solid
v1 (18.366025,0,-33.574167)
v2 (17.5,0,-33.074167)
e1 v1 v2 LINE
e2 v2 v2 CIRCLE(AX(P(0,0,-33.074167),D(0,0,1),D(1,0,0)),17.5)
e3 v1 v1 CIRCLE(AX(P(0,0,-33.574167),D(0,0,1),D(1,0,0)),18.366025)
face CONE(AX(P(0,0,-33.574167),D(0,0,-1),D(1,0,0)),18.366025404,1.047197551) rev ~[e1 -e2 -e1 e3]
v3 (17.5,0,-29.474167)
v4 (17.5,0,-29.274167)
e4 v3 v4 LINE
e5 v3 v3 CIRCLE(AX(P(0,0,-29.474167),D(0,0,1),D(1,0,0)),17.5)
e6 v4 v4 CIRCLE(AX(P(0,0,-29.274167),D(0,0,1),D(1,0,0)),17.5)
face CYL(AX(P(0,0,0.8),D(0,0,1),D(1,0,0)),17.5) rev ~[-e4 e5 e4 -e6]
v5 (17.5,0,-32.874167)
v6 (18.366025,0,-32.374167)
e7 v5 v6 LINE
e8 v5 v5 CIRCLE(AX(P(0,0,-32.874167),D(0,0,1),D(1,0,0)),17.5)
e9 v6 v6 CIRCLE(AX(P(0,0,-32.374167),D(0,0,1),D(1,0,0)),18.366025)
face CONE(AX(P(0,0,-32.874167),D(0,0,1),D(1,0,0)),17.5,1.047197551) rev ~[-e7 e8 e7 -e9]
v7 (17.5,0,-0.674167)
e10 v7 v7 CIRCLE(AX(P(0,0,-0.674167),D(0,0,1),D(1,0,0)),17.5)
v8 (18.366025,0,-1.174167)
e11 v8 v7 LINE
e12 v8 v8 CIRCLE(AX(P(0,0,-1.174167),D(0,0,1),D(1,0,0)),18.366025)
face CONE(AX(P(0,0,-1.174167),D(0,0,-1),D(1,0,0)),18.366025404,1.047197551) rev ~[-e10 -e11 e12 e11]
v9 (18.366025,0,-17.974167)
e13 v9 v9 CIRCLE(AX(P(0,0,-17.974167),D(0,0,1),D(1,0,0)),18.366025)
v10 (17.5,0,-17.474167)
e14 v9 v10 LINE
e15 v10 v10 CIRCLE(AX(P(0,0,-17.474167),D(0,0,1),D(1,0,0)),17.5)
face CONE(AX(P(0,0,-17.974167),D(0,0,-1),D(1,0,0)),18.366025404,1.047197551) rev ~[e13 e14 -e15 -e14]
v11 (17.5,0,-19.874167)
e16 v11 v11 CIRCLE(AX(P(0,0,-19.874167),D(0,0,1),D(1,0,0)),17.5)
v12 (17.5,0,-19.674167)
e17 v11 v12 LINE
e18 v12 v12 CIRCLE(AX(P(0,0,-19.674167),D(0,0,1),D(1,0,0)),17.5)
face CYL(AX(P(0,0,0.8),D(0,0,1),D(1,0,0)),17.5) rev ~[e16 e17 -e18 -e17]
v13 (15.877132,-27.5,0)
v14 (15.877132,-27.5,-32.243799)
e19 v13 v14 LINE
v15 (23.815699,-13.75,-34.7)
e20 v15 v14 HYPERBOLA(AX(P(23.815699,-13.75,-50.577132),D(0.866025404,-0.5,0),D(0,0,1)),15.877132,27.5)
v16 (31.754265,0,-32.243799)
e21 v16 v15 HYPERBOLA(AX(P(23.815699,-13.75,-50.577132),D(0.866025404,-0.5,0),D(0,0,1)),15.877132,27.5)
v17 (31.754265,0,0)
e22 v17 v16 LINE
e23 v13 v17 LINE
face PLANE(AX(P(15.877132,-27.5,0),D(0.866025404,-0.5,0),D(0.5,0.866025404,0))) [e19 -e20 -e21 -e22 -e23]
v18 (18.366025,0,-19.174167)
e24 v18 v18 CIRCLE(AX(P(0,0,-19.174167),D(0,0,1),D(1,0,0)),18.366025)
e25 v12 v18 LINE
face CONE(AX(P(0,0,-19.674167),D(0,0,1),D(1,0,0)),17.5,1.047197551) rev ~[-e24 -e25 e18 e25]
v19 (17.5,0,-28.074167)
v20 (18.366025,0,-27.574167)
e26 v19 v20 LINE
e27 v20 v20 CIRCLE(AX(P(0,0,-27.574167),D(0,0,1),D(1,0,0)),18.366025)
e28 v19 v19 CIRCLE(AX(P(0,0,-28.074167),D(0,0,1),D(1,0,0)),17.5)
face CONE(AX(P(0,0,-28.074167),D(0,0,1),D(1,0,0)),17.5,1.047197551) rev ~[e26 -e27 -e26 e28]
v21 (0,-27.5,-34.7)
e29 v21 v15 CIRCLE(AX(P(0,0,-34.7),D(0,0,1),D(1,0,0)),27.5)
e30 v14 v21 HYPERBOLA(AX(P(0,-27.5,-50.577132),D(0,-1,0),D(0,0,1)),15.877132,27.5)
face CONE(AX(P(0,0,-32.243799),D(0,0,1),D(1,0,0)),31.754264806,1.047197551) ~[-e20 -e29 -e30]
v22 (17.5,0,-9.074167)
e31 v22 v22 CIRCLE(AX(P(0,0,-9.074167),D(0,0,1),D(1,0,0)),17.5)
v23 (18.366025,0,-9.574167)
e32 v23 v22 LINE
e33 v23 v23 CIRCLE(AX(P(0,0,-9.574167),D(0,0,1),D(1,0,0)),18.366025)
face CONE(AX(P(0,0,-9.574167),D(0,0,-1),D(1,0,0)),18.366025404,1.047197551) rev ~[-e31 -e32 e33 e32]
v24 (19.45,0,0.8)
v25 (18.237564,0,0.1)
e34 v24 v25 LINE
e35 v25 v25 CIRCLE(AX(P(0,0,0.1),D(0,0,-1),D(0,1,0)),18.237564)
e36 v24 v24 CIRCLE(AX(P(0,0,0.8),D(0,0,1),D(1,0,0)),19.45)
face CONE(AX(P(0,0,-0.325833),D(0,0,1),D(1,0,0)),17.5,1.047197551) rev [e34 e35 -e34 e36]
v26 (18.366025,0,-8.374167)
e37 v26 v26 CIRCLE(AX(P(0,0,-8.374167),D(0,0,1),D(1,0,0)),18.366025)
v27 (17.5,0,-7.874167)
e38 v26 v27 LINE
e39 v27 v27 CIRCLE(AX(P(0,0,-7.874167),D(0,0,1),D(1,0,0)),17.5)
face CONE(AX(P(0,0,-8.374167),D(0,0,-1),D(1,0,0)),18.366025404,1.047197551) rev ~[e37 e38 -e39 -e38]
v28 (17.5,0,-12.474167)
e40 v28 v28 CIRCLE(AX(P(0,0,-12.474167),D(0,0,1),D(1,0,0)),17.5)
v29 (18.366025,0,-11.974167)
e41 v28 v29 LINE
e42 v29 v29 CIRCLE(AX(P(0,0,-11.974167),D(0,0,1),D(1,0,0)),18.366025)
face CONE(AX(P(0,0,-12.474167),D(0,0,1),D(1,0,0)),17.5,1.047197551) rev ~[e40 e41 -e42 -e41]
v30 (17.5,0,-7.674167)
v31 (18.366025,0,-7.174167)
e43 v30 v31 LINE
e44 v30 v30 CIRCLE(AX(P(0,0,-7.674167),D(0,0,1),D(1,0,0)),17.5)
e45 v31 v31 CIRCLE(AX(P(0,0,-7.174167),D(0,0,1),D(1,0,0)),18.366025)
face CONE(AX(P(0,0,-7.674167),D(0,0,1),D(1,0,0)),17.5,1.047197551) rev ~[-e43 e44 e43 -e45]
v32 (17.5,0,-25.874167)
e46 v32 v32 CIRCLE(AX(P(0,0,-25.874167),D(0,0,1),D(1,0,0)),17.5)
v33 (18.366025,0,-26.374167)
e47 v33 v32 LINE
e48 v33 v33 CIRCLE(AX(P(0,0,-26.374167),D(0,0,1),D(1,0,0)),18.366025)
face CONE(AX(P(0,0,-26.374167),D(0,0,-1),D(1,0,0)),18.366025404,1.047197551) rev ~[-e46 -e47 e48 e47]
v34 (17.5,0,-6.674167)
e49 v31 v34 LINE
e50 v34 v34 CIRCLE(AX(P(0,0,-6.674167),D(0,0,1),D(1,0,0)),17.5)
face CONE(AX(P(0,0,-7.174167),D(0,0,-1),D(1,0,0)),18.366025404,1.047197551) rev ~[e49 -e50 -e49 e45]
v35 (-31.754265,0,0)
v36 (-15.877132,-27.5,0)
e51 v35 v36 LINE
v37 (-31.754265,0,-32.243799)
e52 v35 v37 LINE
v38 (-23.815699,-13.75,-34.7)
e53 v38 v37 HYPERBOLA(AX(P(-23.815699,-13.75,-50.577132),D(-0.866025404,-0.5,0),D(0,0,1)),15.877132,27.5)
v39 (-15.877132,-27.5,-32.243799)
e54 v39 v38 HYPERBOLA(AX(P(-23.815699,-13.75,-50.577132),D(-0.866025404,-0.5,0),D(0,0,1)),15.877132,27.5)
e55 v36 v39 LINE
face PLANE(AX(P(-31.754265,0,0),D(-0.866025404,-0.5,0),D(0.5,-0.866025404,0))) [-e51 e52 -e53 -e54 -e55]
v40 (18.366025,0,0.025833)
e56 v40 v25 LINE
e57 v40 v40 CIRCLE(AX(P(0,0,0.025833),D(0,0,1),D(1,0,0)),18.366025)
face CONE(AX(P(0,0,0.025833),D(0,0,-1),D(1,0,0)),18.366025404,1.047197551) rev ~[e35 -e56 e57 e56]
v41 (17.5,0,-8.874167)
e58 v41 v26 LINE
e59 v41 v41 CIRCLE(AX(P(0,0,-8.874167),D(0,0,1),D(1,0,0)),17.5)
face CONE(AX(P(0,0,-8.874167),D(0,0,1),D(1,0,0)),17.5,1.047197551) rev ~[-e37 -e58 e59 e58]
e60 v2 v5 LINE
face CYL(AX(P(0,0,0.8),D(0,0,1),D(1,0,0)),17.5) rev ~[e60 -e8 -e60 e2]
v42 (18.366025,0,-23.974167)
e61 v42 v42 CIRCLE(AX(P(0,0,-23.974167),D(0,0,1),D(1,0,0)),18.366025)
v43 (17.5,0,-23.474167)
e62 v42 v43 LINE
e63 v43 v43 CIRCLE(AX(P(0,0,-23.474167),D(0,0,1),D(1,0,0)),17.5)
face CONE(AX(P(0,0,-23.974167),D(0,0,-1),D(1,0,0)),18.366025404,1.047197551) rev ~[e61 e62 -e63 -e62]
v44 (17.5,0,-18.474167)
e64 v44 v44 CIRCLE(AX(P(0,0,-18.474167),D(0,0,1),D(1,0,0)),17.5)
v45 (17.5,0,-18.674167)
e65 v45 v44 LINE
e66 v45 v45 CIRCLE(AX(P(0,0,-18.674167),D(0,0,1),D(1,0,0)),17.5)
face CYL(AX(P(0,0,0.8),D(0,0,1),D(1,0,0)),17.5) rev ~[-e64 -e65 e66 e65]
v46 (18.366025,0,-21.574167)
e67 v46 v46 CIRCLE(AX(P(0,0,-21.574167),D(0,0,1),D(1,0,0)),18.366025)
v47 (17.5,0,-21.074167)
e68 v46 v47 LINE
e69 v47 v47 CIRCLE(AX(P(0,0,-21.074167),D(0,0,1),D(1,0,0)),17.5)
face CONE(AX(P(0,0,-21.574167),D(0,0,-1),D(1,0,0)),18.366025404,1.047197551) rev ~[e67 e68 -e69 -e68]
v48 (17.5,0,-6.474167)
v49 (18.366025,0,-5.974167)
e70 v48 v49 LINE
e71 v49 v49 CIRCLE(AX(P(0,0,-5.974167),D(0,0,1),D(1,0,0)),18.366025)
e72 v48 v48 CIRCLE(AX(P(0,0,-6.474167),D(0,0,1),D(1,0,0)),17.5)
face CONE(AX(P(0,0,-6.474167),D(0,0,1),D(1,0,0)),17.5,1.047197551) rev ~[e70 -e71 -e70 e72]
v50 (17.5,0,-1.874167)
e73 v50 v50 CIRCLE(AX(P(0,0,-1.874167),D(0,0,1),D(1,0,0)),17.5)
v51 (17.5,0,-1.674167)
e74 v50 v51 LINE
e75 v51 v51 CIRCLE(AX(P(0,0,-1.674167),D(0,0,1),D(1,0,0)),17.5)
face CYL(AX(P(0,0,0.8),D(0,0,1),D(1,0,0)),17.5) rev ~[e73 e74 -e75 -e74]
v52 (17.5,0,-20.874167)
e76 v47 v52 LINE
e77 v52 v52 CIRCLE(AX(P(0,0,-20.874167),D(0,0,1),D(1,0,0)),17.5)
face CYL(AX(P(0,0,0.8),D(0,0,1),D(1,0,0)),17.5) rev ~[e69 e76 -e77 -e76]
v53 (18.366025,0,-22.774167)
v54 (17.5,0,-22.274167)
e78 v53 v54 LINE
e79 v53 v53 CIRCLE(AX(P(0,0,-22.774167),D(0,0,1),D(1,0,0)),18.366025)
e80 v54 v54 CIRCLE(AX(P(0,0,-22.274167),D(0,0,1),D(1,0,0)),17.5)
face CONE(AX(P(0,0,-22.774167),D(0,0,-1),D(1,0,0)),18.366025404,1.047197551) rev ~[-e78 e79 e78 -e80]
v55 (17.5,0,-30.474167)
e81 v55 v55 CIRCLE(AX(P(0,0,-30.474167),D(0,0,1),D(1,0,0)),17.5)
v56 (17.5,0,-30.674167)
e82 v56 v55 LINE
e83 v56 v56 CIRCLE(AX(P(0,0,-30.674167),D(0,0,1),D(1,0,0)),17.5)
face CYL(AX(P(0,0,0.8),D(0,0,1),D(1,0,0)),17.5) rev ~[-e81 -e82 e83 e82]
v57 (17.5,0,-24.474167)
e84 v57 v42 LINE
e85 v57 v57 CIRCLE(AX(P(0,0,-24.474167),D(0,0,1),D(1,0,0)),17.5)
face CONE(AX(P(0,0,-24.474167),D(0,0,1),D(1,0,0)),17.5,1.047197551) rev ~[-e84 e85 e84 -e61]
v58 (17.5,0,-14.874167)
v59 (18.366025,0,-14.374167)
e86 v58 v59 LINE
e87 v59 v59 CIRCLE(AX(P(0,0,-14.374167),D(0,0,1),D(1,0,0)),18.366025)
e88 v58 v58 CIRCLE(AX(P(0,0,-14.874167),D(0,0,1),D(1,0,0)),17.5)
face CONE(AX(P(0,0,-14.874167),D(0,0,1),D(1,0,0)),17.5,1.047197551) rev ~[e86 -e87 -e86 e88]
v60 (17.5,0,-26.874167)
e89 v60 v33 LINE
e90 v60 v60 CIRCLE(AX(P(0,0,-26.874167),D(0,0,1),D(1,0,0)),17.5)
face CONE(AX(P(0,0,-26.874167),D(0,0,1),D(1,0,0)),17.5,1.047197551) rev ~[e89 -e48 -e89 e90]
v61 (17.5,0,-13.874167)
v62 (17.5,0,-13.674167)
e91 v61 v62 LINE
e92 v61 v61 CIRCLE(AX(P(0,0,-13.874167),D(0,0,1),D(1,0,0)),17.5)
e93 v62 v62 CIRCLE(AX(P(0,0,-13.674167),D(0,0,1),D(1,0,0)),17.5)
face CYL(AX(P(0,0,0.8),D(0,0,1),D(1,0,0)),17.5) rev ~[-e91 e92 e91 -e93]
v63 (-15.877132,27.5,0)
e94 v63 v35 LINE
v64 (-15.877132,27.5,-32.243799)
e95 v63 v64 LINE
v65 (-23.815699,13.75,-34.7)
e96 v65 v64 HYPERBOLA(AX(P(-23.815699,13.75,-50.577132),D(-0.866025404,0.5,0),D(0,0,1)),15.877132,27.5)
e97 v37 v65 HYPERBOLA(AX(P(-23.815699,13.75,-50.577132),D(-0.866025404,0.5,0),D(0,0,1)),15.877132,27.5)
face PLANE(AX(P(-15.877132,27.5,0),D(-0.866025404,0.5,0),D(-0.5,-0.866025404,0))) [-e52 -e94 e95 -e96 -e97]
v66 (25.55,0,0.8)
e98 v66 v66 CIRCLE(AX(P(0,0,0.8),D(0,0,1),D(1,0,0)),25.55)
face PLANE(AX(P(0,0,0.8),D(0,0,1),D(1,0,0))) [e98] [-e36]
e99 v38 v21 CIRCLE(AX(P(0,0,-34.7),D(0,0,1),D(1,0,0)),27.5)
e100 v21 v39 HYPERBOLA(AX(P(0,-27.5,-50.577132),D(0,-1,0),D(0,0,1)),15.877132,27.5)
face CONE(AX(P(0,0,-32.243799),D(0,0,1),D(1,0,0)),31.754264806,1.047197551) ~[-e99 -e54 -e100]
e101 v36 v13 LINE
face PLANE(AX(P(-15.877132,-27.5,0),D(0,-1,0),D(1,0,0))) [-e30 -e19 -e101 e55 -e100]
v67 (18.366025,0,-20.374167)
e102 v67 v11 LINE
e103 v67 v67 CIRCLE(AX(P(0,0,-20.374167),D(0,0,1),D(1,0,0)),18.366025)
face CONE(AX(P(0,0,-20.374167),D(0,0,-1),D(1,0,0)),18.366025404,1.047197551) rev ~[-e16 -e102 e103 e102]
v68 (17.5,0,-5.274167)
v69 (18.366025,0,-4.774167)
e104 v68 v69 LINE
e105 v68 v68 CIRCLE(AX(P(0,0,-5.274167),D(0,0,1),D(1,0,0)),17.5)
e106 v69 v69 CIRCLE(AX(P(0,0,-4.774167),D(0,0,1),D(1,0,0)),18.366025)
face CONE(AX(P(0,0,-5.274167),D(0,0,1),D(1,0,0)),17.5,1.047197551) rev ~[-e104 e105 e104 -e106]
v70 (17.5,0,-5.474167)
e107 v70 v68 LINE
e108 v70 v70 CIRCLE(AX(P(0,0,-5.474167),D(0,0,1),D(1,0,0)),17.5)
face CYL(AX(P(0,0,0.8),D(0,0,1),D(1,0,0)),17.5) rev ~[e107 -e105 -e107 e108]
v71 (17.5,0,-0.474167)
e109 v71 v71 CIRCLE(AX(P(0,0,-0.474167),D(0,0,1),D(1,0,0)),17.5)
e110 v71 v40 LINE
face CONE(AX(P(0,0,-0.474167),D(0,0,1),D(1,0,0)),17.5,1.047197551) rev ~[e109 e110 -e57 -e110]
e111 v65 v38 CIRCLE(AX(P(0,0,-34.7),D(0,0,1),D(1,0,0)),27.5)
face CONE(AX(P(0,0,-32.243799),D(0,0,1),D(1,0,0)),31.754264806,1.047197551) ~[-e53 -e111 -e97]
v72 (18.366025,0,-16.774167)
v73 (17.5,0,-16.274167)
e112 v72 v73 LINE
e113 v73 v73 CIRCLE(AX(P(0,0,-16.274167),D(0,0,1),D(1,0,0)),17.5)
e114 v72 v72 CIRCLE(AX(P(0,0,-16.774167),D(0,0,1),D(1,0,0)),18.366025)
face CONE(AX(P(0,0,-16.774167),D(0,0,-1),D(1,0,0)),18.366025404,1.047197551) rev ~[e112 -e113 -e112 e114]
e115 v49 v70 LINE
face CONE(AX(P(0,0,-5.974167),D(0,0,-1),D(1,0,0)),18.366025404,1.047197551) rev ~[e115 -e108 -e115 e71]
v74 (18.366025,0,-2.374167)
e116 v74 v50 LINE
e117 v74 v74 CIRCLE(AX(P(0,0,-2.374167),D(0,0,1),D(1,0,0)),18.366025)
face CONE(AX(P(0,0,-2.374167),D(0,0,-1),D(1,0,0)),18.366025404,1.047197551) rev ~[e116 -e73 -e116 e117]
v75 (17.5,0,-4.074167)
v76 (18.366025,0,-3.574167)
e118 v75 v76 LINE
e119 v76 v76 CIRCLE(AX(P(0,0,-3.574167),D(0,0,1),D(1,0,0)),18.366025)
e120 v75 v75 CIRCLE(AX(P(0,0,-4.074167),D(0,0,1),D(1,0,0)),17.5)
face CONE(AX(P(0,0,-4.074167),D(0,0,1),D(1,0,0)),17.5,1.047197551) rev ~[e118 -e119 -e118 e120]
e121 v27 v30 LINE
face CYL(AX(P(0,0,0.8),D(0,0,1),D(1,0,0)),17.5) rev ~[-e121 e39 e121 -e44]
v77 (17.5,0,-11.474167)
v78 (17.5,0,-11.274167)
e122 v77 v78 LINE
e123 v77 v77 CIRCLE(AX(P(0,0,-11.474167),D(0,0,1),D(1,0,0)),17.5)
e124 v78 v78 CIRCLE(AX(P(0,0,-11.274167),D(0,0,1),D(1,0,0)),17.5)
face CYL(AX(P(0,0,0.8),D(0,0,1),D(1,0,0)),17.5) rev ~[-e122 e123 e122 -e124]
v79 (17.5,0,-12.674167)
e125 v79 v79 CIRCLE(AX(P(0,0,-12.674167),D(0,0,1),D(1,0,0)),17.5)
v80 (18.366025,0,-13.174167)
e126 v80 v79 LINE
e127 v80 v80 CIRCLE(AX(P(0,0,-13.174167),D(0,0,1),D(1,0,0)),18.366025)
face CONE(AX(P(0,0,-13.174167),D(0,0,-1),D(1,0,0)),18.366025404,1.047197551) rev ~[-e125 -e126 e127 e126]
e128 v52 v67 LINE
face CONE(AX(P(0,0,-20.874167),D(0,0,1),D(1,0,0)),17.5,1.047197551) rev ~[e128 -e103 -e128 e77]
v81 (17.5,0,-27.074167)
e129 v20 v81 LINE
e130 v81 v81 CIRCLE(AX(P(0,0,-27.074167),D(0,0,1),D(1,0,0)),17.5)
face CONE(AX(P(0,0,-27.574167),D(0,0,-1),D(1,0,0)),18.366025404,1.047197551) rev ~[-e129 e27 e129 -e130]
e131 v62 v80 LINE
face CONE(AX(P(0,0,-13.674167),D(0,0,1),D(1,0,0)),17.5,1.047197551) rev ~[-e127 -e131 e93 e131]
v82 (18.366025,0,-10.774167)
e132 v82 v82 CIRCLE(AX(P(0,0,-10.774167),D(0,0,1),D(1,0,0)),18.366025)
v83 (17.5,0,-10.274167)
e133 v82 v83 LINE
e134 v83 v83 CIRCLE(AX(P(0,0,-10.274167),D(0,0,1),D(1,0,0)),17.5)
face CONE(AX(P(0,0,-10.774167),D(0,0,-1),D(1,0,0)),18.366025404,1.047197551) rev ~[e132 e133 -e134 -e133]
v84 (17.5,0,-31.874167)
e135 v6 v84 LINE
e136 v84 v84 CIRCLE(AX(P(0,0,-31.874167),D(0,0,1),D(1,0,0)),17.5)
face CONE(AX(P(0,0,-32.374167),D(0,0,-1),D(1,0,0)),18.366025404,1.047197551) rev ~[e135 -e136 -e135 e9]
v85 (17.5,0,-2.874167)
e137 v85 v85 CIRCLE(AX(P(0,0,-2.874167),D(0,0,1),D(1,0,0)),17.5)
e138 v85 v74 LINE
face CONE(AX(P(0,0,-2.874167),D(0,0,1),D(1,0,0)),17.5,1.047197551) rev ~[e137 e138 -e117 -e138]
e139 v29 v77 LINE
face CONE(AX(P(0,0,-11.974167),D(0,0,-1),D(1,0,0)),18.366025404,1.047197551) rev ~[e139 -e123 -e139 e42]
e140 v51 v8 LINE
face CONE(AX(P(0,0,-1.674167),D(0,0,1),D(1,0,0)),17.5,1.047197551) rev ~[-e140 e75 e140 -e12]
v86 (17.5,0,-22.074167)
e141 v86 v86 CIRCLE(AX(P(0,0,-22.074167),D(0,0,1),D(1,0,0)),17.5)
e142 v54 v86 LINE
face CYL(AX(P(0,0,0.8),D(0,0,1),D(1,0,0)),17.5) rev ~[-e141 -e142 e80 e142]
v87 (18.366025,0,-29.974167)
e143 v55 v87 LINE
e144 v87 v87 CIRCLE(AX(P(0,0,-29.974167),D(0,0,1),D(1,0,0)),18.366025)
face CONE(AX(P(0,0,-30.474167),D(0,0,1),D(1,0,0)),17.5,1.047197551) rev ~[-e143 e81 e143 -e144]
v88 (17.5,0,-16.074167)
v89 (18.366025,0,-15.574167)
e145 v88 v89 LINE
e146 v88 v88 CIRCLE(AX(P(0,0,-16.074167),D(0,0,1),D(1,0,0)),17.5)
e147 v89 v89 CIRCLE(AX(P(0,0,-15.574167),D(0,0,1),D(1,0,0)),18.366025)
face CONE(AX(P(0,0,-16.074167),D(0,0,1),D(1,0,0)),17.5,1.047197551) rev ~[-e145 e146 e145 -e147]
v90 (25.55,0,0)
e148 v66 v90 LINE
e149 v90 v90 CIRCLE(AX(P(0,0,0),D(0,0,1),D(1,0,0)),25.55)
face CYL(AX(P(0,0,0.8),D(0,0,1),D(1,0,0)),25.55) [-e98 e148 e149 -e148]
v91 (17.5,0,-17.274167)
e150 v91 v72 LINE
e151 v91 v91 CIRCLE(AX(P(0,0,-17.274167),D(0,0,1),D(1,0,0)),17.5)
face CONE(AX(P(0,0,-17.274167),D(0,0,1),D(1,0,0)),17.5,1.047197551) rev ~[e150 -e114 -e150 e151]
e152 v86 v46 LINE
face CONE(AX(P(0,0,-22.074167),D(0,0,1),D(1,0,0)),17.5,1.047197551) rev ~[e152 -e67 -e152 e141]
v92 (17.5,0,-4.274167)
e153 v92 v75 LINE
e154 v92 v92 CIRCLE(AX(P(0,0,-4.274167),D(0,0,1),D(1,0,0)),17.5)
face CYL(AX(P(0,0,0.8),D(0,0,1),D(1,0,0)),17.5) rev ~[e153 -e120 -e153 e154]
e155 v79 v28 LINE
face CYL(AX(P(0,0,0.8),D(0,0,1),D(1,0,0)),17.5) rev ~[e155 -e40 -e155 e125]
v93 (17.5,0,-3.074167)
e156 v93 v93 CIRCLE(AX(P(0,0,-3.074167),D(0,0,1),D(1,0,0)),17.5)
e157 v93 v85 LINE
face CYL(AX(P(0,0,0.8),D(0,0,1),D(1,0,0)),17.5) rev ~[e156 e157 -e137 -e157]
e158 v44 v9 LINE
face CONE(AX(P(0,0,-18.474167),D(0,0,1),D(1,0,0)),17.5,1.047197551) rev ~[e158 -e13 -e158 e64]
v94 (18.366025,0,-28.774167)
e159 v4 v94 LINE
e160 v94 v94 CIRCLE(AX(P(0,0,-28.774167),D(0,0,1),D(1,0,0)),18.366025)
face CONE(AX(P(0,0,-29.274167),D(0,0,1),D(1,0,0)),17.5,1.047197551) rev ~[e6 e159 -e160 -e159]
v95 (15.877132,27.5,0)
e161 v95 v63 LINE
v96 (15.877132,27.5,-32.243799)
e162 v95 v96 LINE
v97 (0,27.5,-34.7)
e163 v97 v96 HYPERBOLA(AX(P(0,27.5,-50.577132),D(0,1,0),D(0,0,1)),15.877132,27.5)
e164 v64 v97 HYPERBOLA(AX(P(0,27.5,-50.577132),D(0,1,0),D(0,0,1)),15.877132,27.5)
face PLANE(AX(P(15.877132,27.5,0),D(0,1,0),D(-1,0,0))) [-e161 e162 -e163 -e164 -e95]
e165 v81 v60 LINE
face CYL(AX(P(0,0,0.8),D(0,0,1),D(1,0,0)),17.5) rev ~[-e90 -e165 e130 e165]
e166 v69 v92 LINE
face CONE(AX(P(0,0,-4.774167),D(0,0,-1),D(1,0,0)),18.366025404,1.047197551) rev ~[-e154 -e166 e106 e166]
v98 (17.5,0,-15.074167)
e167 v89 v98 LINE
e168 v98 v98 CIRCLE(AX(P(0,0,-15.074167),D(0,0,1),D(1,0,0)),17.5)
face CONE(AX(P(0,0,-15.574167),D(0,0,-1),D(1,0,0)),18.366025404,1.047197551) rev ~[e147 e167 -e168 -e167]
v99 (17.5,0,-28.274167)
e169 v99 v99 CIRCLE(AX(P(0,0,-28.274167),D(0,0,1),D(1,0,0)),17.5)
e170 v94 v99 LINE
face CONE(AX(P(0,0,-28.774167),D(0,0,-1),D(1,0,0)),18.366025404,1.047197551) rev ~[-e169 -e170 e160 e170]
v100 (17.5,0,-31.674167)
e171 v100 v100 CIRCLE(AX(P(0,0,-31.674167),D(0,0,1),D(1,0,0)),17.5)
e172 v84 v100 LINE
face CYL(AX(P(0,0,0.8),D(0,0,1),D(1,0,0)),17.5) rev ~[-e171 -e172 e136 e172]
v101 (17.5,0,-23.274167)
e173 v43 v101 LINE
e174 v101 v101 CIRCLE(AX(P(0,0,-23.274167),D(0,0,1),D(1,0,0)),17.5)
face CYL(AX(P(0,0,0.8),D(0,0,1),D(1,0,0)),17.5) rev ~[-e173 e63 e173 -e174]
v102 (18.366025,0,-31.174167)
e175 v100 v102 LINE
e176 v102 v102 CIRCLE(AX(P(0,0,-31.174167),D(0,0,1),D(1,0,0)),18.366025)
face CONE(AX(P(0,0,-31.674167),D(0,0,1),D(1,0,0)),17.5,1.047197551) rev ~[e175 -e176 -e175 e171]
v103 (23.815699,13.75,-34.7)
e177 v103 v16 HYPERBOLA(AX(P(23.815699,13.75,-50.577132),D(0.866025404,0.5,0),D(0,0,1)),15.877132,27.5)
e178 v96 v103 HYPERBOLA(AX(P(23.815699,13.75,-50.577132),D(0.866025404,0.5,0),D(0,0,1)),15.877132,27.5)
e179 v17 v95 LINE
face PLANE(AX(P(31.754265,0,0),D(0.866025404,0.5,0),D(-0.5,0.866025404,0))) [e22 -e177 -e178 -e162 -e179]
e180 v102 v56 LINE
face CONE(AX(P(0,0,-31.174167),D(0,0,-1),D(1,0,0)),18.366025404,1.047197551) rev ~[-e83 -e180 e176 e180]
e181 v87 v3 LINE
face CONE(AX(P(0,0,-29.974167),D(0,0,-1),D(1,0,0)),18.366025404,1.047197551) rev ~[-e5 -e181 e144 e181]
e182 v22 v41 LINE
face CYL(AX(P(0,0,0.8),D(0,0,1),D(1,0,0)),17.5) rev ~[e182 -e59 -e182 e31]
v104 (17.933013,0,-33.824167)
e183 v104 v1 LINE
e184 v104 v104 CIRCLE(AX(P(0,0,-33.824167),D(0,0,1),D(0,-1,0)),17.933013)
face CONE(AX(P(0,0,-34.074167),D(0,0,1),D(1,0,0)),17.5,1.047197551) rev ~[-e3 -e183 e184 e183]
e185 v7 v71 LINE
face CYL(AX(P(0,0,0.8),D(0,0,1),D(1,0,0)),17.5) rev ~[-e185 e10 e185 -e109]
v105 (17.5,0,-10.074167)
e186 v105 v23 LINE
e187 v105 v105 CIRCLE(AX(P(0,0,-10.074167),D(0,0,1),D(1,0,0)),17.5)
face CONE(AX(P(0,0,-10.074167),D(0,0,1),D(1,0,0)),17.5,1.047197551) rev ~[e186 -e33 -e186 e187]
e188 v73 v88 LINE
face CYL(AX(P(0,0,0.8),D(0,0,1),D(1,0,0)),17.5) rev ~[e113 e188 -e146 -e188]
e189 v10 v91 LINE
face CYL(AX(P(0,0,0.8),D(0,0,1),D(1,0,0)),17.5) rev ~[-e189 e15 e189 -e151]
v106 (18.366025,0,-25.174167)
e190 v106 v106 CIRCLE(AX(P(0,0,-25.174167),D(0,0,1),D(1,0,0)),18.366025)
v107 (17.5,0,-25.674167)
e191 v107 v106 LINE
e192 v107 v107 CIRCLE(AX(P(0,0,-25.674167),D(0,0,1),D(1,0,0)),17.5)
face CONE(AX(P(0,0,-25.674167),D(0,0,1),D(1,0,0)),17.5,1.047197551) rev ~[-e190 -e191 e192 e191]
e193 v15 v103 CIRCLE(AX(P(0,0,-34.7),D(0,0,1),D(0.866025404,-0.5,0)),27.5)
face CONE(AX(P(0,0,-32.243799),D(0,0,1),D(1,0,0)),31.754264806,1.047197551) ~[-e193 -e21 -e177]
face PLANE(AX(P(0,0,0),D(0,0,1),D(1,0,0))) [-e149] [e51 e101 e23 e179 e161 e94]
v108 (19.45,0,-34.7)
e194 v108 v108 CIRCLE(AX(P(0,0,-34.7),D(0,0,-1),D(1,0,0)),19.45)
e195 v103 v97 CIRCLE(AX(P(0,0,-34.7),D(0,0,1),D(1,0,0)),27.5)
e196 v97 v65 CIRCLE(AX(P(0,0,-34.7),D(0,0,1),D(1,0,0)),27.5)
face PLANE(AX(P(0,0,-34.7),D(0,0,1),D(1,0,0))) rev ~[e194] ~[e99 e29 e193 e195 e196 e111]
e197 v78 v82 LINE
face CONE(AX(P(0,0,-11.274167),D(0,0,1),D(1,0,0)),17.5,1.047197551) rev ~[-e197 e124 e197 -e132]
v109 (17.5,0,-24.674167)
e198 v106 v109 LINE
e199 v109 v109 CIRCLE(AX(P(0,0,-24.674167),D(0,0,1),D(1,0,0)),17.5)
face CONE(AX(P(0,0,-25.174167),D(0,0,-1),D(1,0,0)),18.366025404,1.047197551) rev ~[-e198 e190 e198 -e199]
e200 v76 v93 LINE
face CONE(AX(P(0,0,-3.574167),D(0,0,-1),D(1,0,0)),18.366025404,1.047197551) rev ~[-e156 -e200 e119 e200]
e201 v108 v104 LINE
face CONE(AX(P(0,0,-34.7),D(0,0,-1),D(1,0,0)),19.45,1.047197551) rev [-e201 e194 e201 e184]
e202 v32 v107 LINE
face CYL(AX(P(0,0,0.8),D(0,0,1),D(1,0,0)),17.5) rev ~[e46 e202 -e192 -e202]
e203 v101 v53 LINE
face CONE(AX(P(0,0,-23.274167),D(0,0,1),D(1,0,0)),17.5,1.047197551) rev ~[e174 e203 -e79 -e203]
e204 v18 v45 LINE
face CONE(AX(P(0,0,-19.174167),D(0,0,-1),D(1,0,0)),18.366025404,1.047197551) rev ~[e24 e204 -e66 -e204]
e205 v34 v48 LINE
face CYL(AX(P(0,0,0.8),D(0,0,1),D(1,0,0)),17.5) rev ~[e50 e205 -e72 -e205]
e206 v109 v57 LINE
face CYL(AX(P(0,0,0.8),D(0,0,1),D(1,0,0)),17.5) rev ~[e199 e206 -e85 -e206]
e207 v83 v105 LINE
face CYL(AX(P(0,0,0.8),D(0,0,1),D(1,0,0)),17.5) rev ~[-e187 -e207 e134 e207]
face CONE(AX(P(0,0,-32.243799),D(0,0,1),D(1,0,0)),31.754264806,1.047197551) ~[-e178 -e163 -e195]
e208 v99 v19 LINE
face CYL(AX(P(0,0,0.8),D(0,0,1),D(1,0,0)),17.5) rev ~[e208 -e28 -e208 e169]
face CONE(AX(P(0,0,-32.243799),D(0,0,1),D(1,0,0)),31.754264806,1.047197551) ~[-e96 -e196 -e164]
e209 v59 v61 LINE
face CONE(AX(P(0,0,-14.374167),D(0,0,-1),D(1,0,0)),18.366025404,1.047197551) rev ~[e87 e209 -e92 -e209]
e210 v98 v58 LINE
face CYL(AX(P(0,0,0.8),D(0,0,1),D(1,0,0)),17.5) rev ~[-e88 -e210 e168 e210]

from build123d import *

# Parameters (mm, degrees)
SKETCH1_R         = 17.5
BASENUT_DEPTH     = 34.7
EXTRUDE1_START    = 0.8
SKETCH3_R         = 25.55
SKETCH3_R_2       = 17.5
EXTRUDE1_DEPTH    = 0.8
ENDCHAMFER3_SIZE  = 1.95
ENDCHAMFER3_SIZE2 = 1.125833025
LPATTERN10_COUNT  = 29
LPATTERN10_PITCH  = 1.2


with BuildPart() as part:
    # Sketch1 → BaseNut (new body)
    with BuildSketch(Plane.XY):
        Polygon((15.877132403, -27.5), (31.754264805, 0), (15.877132403, 27.5), (-15.877132403, 27.5), (-31.754264805, 0), (-15.877132403, -27.5), align=None)
        Circle(SKETCH1_R, mode=Mode.SUBTRACT)
    extrude(amount=-BASENUT_DEPTH)

    # Sketch2 → Chamfer1 (revolve, cut)
    with BuildSketch(Plane(origin=(-16.706149795, 0, -15.04811501), x_dir=(0, 0, 1), z_dir=(0, 1, 0))):
        Polygon((-19.65188499, 44.206149795), (-19.65188499, 48.460414601), (-17.195684059, 48.460414601), align=None)
    revolve(axis=Axis((0, 0, -38.770766557), (0, 0, 1)), mode=Mode.SUBTRACT)

    # Sketch6 → EndChamfer1 (revolve, cut)
    with BuildSketch(Plane(origin=(-9.197458863, 0, -10.252541137), x_dir=(0, 0, 1), z_dir=(0, 1, 0))):
        Polygon((-24.447458863, 26.697458863), (-24.447458863, 28.647458863), (-23.321625838, 26.697458863), align=None)
    revolve(axis=Axis((0, 0, 13.104863586), (0, 0, -1)), mode=Mode.SUBTRACT)

    # Sketch3 → Extrude1 (add)
    with BuildSketch(Plane(origin=(-18.48918612, 11.17895969, 0), x_dir=(1, 0, 0), z_dir=(0, 0, 1)).offset(EXTRUDE1_START)):
        with Locations((18.48918612, -11.17895969)):
            Circle(SKETCH3_R)
        with Locations((18.48918612, -11.17895969)):
            Circle(SKETCH3_R_2, mode=Mode.SUBTRACT)
    extrude(amount=-EXTRUDE1_DEPTH)

    # EndChamfer3
    endchamfer3_edges = [part.edges().sort_by_distance(p)[0] for p in [
        (-17.5, 0, 0.8),
    ]]
    endchamfer3_side = [part.faces().sort_by_distance(p)[0] for p in [
        (-24.82733687, 0, 0.8),
    ]]
    chamfer(endchamfer3_edges, length=ENDCHAMFER3_SIZE, length2=ENDCHAMFER3_SIZE2, reference=endchamfer3_side[0])

    # Sketch7 → Cut-Revolve10 (revolve, cut)
    with BuildSketch(Plane(origin=(0, 0, 0), x_dir=(1, 0, 0), z_dir=(0, 1, 0))):
        Polygon((16.5, 34.074166975), (17.5, 34.074166975), (18.366025404, 33.574166975), (17.5, 33.074166975), (16.5, 33.074166975), align=None)
    cut_revolve10 = revolve(axis=Axis((0, 0, -61.609777784), (0, 0, 1)), mode=Mode.SUBTRACT)

    # LPattern10: Cut-Revolve10 ×29
    with Locations(*[(0, 0, i * LPATTERN10_PITCH) for i in range(1, LPATTERN10_COUNT)]):
        add(cut_revolve10, mode=Mode.SUBTRACT)


solid = part.part
